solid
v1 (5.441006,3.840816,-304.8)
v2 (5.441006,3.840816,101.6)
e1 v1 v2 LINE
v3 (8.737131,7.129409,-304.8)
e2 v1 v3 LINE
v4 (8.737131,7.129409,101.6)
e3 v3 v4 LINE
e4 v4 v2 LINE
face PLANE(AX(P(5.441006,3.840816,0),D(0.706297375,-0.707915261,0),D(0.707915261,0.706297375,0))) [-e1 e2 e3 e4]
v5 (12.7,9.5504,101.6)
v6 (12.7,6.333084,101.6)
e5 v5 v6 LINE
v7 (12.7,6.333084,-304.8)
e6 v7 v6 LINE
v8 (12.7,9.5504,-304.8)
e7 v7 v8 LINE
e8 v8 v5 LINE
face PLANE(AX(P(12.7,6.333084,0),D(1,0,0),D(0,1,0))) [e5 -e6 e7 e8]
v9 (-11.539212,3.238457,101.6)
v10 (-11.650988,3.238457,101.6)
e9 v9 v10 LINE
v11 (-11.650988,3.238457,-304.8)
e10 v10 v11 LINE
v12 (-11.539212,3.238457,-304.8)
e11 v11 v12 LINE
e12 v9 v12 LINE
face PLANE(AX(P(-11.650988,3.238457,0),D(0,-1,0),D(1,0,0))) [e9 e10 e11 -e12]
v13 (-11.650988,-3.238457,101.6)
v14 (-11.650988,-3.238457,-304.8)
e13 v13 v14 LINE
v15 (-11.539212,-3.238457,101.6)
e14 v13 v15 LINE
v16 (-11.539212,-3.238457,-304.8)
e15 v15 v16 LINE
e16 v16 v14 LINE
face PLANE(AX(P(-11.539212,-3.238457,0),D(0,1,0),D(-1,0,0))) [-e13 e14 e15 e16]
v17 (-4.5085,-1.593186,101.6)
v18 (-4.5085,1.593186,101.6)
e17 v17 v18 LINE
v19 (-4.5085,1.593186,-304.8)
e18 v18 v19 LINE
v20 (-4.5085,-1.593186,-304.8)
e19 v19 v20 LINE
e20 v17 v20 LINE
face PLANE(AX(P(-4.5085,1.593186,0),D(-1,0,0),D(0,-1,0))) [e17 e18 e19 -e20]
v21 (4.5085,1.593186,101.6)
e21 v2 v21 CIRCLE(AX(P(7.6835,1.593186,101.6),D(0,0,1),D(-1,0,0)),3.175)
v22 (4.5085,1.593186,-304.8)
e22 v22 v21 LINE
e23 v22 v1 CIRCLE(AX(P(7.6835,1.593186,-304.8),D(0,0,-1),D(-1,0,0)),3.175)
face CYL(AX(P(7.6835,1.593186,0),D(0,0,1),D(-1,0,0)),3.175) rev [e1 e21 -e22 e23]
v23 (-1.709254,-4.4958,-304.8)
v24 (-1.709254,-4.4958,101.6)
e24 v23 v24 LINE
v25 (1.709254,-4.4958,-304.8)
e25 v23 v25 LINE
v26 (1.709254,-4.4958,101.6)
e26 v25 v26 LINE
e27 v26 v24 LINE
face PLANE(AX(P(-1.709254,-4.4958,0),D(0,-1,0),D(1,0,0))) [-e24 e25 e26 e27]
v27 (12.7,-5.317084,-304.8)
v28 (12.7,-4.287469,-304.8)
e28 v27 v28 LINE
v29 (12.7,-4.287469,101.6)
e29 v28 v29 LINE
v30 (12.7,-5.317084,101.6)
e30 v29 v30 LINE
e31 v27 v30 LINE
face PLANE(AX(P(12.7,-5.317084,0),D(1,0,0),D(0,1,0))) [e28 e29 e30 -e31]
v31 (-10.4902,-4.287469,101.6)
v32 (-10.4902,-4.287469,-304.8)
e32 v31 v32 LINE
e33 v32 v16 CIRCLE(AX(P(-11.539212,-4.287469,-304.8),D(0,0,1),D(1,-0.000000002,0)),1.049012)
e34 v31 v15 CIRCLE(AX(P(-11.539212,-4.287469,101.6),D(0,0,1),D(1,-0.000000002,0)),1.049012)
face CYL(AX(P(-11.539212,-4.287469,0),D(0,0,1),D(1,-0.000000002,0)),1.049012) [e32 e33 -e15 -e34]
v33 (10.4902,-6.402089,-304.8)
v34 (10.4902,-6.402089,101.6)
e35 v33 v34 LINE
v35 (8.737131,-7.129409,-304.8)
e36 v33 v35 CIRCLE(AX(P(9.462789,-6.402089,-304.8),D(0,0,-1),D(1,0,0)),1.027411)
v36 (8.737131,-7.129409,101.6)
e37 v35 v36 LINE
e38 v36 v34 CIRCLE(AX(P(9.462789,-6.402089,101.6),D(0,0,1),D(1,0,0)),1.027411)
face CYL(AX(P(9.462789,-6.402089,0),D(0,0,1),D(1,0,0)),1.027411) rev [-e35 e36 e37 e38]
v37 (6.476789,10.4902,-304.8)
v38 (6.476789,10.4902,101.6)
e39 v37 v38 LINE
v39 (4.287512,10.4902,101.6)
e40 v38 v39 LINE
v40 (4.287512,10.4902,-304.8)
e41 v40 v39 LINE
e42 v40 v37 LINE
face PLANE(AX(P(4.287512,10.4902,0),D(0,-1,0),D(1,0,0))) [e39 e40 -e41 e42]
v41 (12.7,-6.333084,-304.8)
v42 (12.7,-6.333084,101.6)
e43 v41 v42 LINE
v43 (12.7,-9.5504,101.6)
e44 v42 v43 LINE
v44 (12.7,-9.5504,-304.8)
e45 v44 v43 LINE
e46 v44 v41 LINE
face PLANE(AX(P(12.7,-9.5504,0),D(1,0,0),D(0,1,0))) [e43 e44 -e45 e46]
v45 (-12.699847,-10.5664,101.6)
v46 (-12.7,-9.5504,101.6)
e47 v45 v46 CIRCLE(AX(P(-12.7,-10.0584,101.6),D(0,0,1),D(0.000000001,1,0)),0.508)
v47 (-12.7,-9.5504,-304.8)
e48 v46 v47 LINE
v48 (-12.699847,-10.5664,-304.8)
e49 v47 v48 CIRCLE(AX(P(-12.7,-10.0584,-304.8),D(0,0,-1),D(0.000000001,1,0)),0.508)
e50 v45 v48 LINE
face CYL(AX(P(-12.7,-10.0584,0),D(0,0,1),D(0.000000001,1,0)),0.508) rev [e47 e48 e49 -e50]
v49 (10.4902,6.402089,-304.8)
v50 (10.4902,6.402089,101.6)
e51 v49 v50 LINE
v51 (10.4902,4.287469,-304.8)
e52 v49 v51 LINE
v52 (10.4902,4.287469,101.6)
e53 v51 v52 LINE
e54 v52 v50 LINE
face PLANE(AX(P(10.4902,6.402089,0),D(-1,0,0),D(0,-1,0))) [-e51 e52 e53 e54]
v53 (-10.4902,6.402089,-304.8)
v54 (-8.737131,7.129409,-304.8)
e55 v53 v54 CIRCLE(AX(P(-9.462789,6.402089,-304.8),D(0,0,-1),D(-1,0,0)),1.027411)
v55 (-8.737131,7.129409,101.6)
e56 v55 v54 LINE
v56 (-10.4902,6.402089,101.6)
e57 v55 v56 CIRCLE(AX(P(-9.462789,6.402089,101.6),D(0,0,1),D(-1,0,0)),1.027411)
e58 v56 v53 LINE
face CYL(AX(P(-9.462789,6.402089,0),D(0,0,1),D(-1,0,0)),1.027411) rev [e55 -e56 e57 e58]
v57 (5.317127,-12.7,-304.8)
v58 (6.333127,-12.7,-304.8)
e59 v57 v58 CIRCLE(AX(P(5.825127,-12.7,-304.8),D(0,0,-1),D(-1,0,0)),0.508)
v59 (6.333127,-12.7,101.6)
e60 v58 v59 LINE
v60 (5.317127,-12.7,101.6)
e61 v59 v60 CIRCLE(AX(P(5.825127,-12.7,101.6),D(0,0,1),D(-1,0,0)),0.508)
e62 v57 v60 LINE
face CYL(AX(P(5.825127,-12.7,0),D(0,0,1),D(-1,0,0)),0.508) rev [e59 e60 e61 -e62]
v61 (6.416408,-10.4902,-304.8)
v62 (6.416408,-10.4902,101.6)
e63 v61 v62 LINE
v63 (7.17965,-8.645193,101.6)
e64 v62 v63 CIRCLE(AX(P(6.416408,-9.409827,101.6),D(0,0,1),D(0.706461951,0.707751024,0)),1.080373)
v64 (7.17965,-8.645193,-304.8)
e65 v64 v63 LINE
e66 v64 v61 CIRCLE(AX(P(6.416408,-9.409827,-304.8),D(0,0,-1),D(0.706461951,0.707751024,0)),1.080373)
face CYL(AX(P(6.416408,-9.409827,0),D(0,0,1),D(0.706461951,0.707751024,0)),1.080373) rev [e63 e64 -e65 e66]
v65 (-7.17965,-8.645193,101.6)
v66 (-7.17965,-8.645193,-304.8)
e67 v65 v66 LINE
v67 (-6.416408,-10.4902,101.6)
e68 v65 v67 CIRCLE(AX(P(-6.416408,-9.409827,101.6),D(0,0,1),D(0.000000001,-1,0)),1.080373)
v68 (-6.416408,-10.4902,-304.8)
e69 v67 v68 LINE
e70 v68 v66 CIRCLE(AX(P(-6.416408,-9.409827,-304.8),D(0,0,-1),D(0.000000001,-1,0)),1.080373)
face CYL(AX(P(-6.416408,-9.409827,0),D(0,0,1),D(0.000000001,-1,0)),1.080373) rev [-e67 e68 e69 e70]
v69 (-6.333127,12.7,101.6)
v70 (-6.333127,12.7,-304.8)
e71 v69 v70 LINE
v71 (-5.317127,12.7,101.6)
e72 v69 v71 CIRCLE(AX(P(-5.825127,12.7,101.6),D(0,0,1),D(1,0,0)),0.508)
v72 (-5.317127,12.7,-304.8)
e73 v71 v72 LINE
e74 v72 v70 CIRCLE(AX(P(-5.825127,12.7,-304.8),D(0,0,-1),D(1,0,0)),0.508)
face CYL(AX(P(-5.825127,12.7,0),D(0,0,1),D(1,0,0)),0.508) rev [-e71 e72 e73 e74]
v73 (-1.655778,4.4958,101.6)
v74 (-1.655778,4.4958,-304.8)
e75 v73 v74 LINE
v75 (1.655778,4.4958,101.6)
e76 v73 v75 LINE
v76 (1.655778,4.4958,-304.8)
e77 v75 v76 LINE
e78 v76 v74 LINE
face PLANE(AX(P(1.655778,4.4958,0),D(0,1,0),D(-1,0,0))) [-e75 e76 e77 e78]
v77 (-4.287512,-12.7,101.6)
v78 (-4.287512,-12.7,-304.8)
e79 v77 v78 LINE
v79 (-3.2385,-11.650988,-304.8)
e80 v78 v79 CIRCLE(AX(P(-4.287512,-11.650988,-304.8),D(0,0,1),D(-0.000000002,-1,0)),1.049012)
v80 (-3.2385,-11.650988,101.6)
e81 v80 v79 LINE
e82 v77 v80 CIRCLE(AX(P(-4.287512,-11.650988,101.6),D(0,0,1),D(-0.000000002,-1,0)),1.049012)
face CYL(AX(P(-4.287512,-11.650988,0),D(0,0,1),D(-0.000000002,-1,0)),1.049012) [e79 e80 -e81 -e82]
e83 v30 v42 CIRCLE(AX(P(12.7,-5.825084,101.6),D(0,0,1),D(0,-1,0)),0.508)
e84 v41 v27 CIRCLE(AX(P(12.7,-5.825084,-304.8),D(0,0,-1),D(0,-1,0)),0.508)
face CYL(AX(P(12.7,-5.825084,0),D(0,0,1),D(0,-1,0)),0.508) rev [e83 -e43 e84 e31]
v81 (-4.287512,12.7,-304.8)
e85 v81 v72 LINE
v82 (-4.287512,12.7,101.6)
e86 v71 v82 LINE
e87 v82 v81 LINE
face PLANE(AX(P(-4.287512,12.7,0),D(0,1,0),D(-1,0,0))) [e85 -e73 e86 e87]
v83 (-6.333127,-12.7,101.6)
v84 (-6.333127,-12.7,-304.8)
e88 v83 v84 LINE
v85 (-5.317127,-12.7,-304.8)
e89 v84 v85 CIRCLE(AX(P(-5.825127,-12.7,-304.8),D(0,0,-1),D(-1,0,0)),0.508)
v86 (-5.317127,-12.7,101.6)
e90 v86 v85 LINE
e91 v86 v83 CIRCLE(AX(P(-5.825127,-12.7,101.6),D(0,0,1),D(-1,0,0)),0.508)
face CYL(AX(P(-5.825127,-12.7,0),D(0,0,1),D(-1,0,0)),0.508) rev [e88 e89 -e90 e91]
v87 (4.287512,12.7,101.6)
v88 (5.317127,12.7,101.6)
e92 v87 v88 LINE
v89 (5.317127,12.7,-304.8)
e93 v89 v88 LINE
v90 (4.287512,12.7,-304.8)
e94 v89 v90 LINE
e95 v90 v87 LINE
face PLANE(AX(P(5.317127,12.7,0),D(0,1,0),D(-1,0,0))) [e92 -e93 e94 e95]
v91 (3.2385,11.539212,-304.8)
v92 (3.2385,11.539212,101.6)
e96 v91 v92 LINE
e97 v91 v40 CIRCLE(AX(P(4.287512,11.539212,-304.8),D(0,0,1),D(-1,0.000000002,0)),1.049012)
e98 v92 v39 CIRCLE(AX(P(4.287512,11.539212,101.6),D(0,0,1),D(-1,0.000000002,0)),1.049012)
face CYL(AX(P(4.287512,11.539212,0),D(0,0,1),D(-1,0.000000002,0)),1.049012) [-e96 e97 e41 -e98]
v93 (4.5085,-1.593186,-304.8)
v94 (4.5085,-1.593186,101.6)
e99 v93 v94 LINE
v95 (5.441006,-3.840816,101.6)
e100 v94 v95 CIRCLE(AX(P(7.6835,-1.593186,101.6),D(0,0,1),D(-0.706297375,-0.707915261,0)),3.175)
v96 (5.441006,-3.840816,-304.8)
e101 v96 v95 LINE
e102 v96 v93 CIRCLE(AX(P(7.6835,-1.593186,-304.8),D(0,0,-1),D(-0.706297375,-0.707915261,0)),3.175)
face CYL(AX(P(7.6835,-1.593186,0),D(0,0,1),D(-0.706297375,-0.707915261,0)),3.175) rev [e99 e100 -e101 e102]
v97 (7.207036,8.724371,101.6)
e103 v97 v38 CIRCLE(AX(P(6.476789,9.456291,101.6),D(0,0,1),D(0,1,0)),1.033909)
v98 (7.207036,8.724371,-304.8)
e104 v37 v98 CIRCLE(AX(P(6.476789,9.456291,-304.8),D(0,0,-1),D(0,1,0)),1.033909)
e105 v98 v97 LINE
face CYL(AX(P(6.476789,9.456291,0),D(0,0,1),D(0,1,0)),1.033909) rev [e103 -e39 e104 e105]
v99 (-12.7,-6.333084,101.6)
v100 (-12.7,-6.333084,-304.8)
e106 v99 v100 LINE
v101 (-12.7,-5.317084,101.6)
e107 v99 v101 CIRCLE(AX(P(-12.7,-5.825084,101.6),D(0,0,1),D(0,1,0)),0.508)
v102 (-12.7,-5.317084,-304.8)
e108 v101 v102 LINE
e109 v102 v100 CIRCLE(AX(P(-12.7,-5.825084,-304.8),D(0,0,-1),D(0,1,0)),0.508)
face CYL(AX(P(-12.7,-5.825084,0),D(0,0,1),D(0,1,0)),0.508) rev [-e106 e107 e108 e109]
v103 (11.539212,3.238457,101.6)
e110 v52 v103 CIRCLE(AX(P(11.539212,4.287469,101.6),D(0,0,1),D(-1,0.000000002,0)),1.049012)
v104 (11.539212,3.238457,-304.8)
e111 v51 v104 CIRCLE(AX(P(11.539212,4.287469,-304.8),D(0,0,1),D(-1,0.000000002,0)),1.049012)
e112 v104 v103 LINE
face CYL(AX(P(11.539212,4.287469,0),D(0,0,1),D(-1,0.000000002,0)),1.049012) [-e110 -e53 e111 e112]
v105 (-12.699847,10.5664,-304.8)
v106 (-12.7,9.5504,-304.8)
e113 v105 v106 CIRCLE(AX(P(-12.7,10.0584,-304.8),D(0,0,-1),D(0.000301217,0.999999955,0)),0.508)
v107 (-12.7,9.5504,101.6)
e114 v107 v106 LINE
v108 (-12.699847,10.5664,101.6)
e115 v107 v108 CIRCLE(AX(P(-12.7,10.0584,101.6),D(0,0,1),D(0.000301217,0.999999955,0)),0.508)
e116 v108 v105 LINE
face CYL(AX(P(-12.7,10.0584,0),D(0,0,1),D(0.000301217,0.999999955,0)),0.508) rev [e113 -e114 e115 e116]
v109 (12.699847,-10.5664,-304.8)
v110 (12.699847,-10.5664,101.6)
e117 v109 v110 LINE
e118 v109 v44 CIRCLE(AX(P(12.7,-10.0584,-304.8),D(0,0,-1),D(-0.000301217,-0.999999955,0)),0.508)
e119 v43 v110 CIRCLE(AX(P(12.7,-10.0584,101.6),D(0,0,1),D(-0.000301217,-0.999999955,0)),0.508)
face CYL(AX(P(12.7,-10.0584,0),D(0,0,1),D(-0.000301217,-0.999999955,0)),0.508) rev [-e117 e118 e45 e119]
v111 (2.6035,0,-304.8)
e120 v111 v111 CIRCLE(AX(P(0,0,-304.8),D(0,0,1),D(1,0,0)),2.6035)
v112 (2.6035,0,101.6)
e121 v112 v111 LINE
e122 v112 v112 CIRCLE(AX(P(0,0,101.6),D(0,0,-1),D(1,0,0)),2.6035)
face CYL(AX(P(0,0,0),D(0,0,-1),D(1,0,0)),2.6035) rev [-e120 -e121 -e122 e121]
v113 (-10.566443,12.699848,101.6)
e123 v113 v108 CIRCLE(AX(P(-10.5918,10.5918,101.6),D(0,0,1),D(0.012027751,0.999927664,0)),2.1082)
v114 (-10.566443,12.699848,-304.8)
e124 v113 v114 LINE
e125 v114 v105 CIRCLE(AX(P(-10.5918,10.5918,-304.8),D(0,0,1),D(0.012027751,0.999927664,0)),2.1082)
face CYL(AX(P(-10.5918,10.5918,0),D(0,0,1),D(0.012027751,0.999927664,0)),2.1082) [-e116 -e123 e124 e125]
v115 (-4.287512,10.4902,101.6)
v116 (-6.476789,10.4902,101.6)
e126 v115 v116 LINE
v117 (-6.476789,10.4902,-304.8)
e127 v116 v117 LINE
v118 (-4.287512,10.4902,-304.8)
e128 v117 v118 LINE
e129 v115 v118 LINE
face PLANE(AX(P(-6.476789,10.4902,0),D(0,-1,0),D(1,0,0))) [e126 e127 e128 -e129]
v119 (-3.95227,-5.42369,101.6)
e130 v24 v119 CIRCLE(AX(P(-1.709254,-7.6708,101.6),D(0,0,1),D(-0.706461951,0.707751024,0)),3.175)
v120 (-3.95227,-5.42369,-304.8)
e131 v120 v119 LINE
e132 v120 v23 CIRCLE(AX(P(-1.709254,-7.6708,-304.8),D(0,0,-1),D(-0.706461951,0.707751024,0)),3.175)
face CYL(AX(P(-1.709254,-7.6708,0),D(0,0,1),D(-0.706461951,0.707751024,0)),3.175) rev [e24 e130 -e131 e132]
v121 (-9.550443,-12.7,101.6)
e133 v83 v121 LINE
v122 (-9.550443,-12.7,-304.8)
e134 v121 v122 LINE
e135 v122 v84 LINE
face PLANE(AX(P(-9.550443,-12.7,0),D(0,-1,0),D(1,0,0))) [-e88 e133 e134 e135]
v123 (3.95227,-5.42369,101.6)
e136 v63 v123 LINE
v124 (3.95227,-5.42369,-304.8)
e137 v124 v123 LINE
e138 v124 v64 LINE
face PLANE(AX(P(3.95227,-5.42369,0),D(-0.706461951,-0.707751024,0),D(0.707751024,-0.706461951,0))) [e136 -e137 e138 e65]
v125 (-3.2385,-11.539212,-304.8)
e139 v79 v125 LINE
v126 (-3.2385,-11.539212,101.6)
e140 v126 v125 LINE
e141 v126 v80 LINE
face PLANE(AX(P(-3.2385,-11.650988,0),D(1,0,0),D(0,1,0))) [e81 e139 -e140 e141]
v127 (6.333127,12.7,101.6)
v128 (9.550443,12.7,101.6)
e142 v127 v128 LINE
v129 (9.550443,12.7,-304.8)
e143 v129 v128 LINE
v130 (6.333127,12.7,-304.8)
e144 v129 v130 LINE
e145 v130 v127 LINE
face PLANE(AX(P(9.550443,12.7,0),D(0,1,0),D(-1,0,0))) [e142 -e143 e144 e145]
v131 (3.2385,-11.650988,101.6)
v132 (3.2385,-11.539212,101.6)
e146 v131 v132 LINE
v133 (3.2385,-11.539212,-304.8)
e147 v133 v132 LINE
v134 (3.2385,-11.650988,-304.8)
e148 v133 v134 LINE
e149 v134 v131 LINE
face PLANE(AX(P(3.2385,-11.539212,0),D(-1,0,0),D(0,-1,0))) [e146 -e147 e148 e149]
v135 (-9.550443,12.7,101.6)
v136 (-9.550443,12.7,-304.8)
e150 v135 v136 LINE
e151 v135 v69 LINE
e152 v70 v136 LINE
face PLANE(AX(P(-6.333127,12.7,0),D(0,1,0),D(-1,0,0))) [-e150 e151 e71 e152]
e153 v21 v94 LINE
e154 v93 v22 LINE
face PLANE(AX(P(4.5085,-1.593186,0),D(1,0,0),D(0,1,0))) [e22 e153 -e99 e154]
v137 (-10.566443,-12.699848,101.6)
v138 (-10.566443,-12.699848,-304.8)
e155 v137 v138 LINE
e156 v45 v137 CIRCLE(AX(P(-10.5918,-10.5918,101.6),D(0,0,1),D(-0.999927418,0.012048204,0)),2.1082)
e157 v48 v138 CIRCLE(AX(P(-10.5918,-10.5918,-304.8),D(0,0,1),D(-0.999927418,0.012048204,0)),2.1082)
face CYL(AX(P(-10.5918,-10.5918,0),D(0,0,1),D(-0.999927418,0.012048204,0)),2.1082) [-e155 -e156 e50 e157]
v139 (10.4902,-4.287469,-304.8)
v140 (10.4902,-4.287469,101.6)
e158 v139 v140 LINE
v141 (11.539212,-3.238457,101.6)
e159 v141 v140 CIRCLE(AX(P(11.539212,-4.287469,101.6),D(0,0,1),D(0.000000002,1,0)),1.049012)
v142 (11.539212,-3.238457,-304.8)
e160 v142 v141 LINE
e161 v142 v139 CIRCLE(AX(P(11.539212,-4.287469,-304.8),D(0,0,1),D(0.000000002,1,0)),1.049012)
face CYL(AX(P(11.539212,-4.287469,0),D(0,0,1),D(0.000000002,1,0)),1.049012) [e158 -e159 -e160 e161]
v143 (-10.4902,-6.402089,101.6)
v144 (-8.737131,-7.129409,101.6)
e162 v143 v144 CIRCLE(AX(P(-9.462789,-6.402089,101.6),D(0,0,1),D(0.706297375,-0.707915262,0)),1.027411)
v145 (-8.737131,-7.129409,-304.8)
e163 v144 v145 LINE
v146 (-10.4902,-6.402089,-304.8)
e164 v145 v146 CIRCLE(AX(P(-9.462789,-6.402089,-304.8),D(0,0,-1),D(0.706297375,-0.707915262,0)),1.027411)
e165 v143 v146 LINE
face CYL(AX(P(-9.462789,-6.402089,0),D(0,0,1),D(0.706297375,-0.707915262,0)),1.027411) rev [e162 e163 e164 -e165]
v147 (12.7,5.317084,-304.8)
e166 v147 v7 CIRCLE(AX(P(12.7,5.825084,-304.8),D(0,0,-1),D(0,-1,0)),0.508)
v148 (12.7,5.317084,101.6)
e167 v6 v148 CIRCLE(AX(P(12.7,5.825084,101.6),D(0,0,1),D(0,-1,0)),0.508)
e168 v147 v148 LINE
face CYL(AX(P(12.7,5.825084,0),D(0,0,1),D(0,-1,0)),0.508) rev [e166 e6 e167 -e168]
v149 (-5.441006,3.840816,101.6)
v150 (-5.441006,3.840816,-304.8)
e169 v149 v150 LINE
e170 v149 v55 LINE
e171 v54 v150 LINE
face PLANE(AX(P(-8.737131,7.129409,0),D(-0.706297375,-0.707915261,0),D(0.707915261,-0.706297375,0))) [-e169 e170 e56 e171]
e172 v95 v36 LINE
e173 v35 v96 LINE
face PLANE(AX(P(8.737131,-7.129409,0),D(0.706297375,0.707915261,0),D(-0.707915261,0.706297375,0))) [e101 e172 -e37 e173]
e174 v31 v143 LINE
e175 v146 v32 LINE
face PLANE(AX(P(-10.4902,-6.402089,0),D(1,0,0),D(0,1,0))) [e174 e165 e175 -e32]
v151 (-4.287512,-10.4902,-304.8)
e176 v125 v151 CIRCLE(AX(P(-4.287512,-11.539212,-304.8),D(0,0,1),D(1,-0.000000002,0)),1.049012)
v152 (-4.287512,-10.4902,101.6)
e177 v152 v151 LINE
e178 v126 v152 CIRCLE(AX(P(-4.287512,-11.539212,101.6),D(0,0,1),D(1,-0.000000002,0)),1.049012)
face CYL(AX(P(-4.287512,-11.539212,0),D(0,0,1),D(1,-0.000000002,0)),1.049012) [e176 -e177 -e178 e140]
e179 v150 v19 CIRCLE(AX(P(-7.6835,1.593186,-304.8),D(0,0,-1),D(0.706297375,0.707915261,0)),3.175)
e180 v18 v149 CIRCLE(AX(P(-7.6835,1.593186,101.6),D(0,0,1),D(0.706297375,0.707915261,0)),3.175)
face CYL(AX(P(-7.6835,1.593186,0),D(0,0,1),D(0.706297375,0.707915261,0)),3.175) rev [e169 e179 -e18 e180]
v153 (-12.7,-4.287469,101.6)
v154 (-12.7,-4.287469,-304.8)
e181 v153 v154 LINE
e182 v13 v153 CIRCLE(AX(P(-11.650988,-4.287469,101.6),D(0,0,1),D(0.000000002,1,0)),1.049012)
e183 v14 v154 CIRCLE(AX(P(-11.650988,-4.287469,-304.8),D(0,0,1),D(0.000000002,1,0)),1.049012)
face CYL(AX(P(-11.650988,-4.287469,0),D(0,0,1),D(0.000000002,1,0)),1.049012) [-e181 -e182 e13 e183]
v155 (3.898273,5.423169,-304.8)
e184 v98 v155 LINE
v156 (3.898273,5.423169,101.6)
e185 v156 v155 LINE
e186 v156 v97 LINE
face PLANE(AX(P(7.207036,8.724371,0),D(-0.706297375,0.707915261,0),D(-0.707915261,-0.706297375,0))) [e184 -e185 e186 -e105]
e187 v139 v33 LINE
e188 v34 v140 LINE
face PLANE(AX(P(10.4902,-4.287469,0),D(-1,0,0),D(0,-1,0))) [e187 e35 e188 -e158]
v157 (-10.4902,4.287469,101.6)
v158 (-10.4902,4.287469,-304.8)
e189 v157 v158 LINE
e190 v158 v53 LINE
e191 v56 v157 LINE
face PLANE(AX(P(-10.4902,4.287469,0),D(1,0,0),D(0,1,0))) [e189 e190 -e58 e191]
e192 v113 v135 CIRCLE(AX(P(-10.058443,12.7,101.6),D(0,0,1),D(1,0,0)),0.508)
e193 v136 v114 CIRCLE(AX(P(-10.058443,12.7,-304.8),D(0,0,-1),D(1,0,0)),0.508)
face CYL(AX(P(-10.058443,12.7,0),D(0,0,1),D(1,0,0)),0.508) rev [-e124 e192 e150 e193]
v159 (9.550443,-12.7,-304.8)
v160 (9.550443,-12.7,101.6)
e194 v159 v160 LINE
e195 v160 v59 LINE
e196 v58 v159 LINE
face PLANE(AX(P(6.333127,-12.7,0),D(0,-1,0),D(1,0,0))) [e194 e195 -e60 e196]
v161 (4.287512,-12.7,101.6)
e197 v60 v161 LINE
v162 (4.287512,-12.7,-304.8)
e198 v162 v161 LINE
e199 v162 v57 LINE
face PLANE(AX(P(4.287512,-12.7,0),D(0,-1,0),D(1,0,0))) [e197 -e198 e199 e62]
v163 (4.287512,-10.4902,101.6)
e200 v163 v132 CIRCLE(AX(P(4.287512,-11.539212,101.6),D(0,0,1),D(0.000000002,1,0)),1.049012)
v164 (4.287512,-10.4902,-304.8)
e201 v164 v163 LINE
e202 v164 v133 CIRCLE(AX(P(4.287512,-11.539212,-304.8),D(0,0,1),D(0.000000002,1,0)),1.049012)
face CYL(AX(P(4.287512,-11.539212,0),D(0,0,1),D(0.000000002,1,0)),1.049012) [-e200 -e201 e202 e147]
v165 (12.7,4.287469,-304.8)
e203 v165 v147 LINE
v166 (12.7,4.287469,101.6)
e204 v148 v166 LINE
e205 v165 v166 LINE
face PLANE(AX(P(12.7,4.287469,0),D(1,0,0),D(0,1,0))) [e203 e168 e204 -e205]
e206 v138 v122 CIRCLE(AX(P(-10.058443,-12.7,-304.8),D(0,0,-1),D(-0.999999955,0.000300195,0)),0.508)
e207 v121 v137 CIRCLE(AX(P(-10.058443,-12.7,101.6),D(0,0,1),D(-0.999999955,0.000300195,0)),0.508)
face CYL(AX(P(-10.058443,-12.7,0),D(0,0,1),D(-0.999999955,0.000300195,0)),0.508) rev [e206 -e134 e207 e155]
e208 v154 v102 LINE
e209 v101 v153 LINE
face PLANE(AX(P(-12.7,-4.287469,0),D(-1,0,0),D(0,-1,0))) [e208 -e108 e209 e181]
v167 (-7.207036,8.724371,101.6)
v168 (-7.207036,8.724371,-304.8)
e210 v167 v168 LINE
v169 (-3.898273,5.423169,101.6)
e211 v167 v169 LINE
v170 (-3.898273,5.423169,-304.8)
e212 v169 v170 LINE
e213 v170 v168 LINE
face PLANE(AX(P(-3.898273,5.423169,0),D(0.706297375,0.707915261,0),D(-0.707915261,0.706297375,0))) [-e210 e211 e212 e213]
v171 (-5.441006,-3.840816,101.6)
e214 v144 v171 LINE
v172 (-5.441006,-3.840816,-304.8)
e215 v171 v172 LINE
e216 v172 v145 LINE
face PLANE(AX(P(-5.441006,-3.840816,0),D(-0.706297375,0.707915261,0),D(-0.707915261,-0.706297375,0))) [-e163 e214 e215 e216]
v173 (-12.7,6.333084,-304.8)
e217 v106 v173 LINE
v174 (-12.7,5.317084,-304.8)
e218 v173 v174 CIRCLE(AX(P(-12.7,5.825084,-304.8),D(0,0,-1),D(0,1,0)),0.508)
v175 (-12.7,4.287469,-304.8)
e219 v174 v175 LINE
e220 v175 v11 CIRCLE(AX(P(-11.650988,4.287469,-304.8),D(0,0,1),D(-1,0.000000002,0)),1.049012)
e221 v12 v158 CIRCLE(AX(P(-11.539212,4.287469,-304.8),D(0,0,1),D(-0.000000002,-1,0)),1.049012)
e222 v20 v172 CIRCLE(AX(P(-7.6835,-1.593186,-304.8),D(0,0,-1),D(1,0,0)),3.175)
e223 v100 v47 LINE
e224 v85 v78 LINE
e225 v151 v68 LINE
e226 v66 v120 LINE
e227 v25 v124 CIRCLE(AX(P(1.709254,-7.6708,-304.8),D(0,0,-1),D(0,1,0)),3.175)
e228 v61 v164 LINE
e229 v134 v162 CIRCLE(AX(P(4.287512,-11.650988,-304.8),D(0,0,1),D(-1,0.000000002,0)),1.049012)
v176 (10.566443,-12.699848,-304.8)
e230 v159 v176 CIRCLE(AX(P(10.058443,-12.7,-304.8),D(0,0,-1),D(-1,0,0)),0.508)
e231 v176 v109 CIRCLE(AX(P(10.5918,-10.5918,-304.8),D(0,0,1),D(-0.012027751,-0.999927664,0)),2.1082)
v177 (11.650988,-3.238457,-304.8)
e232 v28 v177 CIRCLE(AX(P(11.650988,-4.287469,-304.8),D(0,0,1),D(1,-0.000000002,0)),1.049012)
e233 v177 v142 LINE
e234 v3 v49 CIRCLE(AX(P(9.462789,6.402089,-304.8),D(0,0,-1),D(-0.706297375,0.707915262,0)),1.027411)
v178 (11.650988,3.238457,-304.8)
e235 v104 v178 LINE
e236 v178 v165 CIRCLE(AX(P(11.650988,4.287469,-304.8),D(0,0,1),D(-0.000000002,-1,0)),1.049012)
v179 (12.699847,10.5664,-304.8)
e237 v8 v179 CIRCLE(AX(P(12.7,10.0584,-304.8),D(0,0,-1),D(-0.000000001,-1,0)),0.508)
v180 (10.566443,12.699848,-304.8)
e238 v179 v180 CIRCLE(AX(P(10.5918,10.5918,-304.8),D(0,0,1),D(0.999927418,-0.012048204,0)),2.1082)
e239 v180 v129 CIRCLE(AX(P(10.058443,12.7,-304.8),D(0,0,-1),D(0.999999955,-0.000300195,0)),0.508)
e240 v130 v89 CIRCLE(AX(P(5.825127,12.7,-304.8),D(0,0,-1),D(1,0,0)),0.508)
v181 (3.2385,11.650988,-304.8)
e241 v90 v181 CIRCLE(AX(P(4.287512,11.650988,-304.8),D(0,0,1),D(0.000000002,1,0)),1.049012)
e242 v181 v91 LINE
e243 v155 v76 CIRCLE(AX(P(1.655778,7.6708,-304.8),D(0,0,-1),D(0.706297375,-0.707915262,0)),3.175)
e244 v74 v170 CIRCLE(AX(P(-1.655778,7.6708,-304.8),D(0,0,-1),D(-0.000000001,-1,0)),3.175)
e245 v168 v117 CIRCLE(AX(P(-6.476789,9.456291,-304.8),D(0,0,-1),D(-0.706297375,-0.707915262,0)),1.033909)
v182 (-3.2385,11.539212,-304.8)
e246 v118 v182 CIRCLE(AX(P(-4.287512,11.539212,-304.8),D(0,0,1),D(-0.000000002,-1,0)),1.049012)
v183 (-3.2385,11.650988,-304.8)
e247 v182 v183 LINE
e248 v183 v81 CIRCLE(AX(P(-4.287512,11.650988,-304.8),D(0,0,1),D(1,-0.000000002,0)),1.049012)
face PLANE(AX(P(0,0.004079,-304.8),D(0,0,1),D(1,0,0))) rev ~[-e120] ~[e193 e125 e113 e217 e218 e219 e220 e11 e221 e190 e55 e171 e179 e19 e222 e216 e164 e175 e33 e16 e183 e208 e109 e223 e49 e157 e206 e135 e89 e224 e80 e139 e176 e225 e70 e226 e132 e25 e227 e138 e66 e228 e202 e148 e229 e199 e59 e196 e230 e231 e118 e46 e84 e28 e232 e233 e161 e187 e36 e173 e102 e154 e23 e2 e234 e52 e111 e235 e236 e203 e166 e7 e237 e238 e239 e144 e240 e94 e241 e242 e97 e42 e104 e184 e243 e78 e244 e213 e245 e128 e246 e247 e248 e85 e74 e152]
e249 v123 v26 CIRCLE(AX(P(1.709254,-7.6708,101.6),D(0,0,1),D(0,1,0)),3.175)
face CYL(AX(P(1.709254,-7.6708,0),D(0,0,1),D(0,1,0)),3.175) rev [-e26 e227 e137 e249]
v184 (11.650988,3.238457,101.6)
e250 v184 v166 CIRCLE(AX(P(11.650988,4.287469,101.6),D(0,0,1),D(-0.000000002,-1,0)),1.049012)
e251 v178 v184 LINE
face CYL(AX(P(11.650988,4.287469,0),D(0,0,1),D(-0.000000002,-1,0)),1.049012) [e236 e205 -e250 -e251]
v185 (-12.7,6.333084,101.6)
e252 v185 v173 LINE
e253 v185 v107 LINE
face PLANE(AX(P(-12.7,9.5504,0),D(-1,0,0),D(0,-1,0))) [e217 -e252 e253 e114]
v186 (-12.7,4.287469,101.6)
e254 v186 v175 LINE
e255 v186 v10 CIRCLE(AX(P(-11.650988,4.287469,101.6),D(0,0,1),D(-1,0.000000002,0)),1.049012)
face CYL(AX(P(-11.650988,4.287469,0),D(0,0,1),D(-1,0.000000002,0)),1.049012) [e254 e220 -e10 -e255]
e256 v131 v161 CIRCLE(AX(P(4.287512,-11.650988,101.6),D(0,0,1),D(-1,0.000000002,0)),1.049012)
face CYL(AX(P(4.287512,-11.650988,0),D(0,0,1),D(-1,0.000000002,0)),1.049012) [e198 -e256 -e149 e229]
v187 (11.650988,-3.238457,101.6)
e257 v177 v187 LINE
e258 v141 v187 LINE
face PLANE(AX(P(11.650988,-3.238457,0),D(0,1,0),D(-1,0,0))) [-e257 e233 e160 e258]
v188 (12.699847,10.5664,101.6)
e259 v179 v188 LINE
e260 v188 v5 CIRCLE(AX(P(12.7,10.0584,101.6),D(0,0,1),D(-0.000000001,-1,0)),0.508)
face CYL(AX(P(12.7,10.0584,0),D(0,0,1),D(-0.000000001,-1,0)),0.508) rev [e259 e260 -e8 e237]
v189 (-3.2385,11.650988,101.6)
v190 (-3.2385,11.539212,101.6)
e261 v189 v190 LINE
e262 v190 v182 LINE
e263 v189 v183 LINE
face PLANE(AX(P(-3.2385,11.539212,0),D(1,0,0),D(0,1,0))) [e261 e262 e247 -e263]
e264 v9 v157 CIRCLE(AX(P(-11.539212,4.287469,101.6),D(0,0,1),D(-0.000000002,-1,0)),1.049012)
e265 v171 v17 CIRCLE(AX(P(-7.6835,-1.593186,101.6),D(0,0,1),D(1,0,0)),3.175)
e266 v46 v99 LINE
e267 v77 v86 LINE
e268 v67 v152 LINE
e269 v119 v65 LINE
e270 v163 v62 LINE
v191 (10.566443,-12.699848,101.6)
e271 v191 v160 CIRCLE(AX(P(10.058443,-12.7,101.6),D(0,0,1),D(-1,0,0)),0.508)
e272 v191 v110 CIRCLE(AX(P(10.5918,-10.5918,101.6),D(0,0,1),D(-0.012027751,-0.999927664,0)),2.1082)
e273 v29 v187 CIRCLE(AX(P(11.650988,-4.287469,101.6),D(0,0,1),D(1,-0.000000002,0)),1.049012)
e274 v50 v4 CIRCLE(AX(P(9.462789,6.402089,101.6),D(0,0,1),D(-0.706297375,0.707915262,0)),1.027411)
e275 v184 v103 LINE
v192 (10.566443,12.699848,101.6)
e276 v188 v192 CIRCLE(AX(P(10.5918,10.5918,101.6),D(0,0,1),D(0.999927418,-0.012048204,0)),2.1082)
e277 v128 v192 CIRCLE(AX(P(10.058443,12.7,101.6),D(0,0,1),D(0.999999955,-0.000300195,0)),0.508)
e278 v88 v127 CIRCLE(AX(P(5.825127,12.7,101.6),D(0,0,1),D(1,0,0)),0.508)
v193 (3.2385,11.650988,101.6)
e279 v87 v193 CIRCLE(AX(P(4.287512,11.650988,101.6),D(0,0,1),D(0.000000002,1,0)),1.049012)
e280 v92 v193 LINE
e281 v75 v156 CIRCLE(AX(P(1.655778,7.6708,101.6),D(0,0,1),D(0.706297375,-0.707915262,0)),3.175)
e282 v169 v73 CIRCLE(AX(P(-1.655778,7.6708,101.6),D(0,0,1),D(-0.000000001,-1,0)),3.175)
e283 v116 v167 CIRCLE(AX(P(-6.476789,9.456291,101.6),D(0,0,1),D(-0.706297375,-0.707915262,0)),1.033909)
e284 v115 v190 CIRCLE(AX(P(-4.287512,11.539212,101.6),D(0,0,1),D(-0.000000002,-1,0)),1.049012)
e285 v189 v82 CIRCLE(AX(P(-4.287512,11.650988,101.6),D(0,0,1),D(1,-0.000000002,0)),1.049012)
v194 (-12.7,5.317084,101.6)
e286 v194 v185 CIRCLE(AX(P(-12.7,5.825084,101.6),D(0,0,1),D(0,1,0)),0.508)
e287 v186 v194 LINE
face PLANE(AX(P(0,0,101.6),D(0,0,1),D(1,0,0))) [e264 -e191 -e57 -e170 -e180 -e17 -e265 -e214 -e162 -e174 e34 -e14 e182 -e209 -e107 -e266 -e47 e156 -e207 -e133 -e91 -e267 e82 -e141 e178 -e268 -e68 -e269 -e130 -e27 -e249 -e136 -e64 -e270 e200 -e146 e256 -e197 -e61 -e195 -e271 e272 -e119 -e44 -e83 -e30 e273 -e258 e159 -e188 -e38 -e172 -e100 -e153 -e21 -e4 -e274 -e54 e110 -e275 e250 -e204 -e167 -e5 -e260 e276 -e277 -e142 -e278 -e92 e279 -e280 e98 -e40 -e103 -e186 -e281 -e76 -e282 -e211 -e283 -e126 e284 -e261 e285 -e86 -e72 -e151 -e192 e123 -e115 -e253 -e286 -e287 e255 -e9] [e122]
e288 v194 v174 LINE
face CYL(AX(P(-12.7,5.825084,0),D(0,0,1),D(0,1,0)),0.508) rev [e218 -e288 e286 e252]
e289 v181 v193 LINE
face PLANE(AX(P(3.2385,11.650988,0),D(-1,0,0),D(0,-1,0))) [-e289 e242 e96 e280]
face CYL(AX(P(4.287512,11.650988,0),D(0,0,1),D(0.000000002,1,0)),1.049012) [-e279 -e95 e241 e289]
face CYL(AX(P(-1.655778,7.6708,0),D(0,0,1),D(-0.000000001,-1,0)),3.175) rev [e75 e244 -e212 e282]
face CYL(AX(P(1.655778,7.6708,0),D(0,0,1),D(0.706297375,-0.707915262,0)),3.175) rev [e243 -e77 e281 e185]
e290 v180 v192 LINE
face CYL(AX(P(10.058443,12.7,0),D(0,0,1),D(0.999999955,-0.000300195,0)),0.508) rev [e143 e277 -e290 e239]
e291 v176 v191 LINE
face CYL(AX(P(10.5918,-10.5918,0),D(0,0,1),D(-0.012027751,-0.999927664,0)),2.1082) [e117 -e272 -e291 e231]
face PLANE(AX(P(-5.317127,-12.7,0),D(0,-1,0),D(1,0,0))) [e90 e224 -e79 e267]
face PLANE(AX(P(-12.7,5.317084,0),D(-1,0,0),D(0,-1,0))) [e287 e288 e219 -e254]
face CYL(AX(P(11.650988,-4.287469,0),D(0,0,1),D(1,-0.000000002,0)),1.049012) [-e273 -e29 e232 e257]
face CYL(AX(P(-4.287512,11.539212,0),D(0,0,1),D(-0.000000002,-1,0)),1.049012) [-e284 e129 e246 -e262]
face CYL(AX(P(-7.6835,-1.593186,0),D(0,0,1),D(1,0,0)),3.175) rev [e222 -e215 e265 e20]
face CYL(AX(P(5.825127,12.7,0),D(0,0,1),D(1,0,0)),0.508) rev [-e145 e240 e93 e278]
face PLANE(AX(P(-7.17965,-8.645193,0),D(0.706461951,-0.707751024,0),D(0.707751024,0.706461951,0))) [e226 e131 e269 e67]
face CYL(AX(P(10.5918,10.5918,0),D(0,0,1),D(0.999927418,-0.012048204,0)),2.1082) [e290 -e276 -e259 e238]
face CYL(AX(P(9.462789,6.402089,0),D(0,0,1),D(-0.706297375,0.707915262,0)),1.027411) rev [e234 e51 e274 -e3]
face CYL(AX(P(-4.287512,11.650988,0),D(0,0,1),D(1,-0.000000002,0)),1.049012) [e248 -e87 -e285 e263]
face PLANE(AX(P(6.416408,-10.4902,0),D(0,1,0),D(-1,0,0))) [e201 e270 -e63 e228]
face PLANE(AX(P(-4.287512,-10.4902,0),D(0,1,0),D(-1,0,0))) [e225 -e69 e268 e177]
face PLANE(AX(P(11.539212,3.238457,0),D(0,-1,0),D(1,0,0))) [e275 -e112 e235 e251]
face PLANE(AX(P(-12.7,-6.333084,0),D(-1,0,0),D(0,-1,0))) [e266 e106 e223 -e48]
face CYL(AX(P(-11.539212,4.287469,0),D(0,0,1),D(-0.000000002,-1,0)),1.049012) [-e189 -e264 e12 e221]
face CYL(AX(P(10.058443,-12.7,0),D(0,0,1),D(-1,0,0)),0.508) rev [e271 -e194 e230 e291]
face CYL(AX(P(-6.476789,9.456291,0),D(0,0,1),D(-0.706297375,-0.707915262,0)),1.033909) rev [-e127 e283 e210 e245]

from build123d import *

# Parameters (mm, degrees)
SKETCH1_R           = 2.6035
BOSS_EXTRUDE1_DEPTH = 304.8
SKETCH2_R           = 37.713648337
CUT_EXTRUDE1_DEPTH  = 203.2


with BuildPart() as part:
    # Sketch1 → Boss-Extrude1 (new, symmetric)
    with BuildSketch(Plane.XY):
        with BuildLine():
            Line((-7.179650497, -8.645192506), (-3.952270251, -5.423690499))
            ThreePointArc((-3.952270251, -5.423690499), (-2.922936451, -4.736929036), (-1.709253557, -4.4958))
            Line((-1.709253557, -4.4958), (1.709253557, -4.4958))
            ThreePointArc((1.709253557, -4.4958), (2.922936451, -4.736929036), (3.952270251, -5.423690499))
            Line((3.952270251, -5.423690499), (7.179650497, -8.645192506))
            ThreePointArc((7.179650497, -8.645192506), (7.41473083, -9.822813117), (6.416408329, -10.4902))
            Line((6.416408329, -10.4902), (4.287512407, -10.4902))
            ThreePointArc((4.287512407, -10.4902), (3.54574862, -10.79744862), (3.2385, -11.539212407))
            Line((3.2385, -11.539212407), (3.2385, -11.650987593))
            ThreePointArc((3.2385, -11.650987593), (3.54574862, -12.39275138), (4.287512407, -12.7))
            Line((4.287512407, -12.7), (5.317126718, -12.7))
            ThreePointArc((5.317126718, -12.7), (5.825126718, -12.192), (6.333126718, -12.7))
            Line((6.333126718, -12.7), (9.550443118, -12.7))
            ThreePointArc((9.550443118, -12.7), (10.058366869, -12.192000006), (10.566443095, -12.699847501))
            ThreePointArc((10.566443095, -12.699847501), (12.082537762, -12.08250727), (12.699846982, -10.566399977))
            ThreePointArc((12.699846982, -10.566399977), (12.192000006, -10.058323491), (12.7, -9.5504))
            Line((12.7, -9.5504), (12.7, -6.3330836))
            ThreePointArc((12.7, -6.3330836), (12.192, -5.8250836), (12.7, -5.3170836))
            Line((12.7, -5.3170836), (12.7, -4.287469289))
            ThreePointArc((12.7, -4.287469289), (12.39275138, -3.545705502), (11.650987593, -3.238456882))
            Line((11.650987593, -3.238456882), (11.539212407, -3.238456882))
            ThreePointArc((11.539212407, -3.238456882), (10.79744862, -3.545705502), (10.4902, -4.287469289))
            Line((10.4902, -4.287469289), (10.4902, -6.402089023))
            ThreePointArc((10.4902, -6.402089023), (9.856505071, -7.351067942), (8.737131347, -7.129408934))
            Line((8.737131347, -7.129408934), (5.441005833, -3.840816462))
            ThreePointArc((5.441005833, -3.840816462), (4.750877967, -2.809883091), (4.5085, -1.593185507))
            Line((4.5085, -1.593185507), (4.5085, 1.593185507))
            ThreePointArc((4.5085, 1.593185507), (4.750877967, 2.809883091), (5.441005833, 3.840816462))
            Line((5.441005833, 3.840816462), (8.737131347, 7.129408934))
            ThreePointArc((8.737131347, 7.129408934), (9.856505071, 7.351067942), (10.4902, 6.402089023))
            Line((10.4902, 6.402089023), (10.4902, 4.287469289))
            ThreePointArc((10.4902, 4.287469289), (10.79744862, 3.545705502), (11.539212407, 3.238456882))
            Line((11.539212407, 3.238456882), (11.650987593, 3.238456882))
            ThreePointArc((11.650987593, 3.238456882), (12.39275138, 3.545705502), (12.7, 4.287469289))
            Line((12.7, 4.287469289), (12.7, 5.3170836))
            ThreePointArc((12.7, 5.3170836), (12.192, 5.8250836), (12.7, 6.3330836))
            Line((12.7, 6.3330836), (12.7, 9.5504))
            ThreePointArc((12.7, 9.5504), (12.192000006, 10.058323491), (12.699846982, 10.566399977))
            ThreePointArc((12.699846982, 10.566399977), (12.082537762, 12.08250727), (10.566443095, 12.699847501))
            ThreePointArc((10.566443095, 12.699847501), (10.058366869, 12.192000006), (9.550443118, 12.7))
            Line((9.550443118, 12.7), (6.333126718, 12.7))
            ThreePointArc((6.333126718, 12.7), (5.825126718, 12.192), (5.317126718, 12.7))
            Line((5.317126718, 12.7), (4.287512407, 12.7))
            ThreePointArc((4.287512407, 12.7), (3.54574862, 12.39275138), (3.2385, 11.650987593))
            Line((3.2385, 11.650987593), (3.2385, 11.539212407))
            ThreePointArc((3.2385, 11.539212407), (3.54574862, 10.79744862), (4.287512407, 10.4902))
            Line((4.287512407, 10.4902), (6.476788598, 10.4902))
            ThreePointArc((6.476788598, 10.4902), (7.432222385, 9.85140422), (7.207036008, 8.724370562))
            Line((7.207036008, 8.724370562), (3.898272566, 5.423169045))
            ThreePointArc((3.898272566, 5.423169045), (2.869120213, 4.736787962), (1.655778399, 4.4958))
            Line((1.655778399, 4.4958), (-1.655778399, 4.4958))
            ThreePointArc((-1.655778399, 4.4958), (-2.869120213, 4.736787962), (-3.898272566, 5.423169045))
            Line((-3.898272566, 5.423169045), (-7.207036008, 8.724370562))
            ThreePointArc((-7.207036008, 8.724370562), (-7.432222385, 9.85140422), (-6.476788598, 10.4902))
            Line((-6.476788598, 10.4902), (-4.287512407, 10.4902))
            ThreePointArc((-4.287512407, 10.4902), (-3.54574862, 10.79744862), (-3.2385, 11.539212407))
            Line((-3.2385, 11.539212407), (-3.2385, 11.650987593))
            ThreePointArc((-3.2385, 11.650987593), (-3.54574862, 12.39275138), (-4.287512407, 12.7))
            Line((-4.287512407, 12.7), (-5.317126718, 12.7))
            ThreePointArc((-5.317126718, 12.7), (-5.825126718, 12.192), (-6.333126718, 12.7))
            Line((-6.333126718, 12.7), (-9.550443118, 12.7))
            ThreePointArc((-9.550443118, 12.7), (-10.058366869, 12.192000006), (-10.566443095, 12.699847501))
            ThreePointArc((-10.566443095, 12.699847501), (-12.082537762, 12.08250727), (-12.699846982, 10.566399977))
            ThreePointArc((-12.699846982, 10.566399977), (-12.192000006, 10.058323491), (-12.7, 9.5504))
            Line((-12.7, 9.5504), (-12.7, 6.3330836))
            ThreePointArc((-12.7, 6.3330836), (-12.192, 5.8250836), (-12.7, 5.3170836))
            Line((-12.7, 5.3170836), (-12.7, 4.287469289))
            ThreePointArc((-12.7, 4.287469289), (-12.39275138, 3.545705502), (-11.650987593, 3.238456882))
            Line((-11.650987593, 3.238456882), (-11.539212407, 3.238456882))
            ThreePointArc((-11.539212407, 3.238456882), (-10.79744862, 3.545705502), (-10.4902, 4.287469289))
            Line((-10.4902, 4.287469289), (-10.4902, 6.402089023))
            ThreePointArc((-10.4902, 6.402089023), (-9.856505071, 7.351067942), (-8.737131347, 7.129408934))
            Line((-8.737131347, 7.129408934), (-5.441005833, 3.840816462))
            ThreePointArc((-5.441005833, 3.840816462), (-4.750877967, 2.809883091), (-4.5085, 1.593185507))
            Line((-4.5085, 1.593185507), (-4.5085, -1.593185507))
            ThreePointArc((-4.5085, -1.593185507), (-4.750877967, -2.809883091), (-5.441005833, -3.840816462))
            Line((-5.441005833, -3.840816462), (-8.737131347, -7.129408934))
            ThreePointArc((-8.737131347, -7.129408934), (-9.856505071, -7.351067942), (-10.4902, -6.402089023))
            Line((-10.4902, -6.402089023), (-10.4902, -4.287469289))
            ThreePointArc((-10.4902, -4.287469289), (-10.79744862, -3.545705502), (-11.539212407, -3.238456882))
            Line((-11.539212407, -3.238456882), (-11.650987593, -3.238456882))
            ThreePointArc((-11.650987593, -3.238456882), (-12.39275138, -3.545705502), (-12.7, -4.287469289))
            Line((-12.7, -4.287469289), (-12.7, -5.3170836))
            ThreePointArc((-12.7, -5.3170836), (-12.192, -5.8250836), (-12.7, -6.3330836))
            Line((-12.7, -6.3330836), (-12.7, -9.5504))
            ThreePointArc((-12.7, -9.5504), (-12.192000006, -10.058323491), (-12.699846982, -10.566399977))
            ThreePointArc((-12.699846982, -10.566399977), (-12.082537762, -12.08250727), (-10.566443095, -12.699847501))
            ThreePointArc((-10.566443095, -12.699847501), (-10.058366869, -12.192000006), (-9.550443118, -12.7))
            Line((-9.550443118, -12.7), (-6.333126718, -12.7))
            ThreePointArc((-6.333126718, -12.7), (-5.825126718, -12.192), (-5.317126718, -12.7))
            Line((-5.317126718, -12.7), (-4.287512407, -12.7))
            ThreePointArc((-4.287512407, -12.7), (-3.54574862, -12.39275138), (-3.2385, -11.650987593))
            Line((-3.2385, -11.650987593), (-3.2385, -11.539212407))
            ThreePointArc((-3.2385, -11.539212407), (-3.54574862, -10.79744862), (-4.287512407, -10.4902))
            Line((-4.287512407, -10.4902), (-6.416408329, -10.4902))
            ThreePointArc((-6.416408329, -10.4902), (-7.41473083, -9.822813117), (-7.179650497, -8.645192506))
        make_face()
        Circle(SKETCH1_R, mode=Mode.SUBTRACT)
    extrude(amount=BOSS_EXTRUDE1_DEPTH, both=True)

    # Sketch2 → Cut-Extrude1 (cut)
    with BuildSketch(Plane.XY.offset(304.8)):
        Circle(SKETCH2_R)
    extrude(amount=-CUT_EXTRUDE1_DEPTH, mode=Mode.SUBTRACT)


solid = part.part
